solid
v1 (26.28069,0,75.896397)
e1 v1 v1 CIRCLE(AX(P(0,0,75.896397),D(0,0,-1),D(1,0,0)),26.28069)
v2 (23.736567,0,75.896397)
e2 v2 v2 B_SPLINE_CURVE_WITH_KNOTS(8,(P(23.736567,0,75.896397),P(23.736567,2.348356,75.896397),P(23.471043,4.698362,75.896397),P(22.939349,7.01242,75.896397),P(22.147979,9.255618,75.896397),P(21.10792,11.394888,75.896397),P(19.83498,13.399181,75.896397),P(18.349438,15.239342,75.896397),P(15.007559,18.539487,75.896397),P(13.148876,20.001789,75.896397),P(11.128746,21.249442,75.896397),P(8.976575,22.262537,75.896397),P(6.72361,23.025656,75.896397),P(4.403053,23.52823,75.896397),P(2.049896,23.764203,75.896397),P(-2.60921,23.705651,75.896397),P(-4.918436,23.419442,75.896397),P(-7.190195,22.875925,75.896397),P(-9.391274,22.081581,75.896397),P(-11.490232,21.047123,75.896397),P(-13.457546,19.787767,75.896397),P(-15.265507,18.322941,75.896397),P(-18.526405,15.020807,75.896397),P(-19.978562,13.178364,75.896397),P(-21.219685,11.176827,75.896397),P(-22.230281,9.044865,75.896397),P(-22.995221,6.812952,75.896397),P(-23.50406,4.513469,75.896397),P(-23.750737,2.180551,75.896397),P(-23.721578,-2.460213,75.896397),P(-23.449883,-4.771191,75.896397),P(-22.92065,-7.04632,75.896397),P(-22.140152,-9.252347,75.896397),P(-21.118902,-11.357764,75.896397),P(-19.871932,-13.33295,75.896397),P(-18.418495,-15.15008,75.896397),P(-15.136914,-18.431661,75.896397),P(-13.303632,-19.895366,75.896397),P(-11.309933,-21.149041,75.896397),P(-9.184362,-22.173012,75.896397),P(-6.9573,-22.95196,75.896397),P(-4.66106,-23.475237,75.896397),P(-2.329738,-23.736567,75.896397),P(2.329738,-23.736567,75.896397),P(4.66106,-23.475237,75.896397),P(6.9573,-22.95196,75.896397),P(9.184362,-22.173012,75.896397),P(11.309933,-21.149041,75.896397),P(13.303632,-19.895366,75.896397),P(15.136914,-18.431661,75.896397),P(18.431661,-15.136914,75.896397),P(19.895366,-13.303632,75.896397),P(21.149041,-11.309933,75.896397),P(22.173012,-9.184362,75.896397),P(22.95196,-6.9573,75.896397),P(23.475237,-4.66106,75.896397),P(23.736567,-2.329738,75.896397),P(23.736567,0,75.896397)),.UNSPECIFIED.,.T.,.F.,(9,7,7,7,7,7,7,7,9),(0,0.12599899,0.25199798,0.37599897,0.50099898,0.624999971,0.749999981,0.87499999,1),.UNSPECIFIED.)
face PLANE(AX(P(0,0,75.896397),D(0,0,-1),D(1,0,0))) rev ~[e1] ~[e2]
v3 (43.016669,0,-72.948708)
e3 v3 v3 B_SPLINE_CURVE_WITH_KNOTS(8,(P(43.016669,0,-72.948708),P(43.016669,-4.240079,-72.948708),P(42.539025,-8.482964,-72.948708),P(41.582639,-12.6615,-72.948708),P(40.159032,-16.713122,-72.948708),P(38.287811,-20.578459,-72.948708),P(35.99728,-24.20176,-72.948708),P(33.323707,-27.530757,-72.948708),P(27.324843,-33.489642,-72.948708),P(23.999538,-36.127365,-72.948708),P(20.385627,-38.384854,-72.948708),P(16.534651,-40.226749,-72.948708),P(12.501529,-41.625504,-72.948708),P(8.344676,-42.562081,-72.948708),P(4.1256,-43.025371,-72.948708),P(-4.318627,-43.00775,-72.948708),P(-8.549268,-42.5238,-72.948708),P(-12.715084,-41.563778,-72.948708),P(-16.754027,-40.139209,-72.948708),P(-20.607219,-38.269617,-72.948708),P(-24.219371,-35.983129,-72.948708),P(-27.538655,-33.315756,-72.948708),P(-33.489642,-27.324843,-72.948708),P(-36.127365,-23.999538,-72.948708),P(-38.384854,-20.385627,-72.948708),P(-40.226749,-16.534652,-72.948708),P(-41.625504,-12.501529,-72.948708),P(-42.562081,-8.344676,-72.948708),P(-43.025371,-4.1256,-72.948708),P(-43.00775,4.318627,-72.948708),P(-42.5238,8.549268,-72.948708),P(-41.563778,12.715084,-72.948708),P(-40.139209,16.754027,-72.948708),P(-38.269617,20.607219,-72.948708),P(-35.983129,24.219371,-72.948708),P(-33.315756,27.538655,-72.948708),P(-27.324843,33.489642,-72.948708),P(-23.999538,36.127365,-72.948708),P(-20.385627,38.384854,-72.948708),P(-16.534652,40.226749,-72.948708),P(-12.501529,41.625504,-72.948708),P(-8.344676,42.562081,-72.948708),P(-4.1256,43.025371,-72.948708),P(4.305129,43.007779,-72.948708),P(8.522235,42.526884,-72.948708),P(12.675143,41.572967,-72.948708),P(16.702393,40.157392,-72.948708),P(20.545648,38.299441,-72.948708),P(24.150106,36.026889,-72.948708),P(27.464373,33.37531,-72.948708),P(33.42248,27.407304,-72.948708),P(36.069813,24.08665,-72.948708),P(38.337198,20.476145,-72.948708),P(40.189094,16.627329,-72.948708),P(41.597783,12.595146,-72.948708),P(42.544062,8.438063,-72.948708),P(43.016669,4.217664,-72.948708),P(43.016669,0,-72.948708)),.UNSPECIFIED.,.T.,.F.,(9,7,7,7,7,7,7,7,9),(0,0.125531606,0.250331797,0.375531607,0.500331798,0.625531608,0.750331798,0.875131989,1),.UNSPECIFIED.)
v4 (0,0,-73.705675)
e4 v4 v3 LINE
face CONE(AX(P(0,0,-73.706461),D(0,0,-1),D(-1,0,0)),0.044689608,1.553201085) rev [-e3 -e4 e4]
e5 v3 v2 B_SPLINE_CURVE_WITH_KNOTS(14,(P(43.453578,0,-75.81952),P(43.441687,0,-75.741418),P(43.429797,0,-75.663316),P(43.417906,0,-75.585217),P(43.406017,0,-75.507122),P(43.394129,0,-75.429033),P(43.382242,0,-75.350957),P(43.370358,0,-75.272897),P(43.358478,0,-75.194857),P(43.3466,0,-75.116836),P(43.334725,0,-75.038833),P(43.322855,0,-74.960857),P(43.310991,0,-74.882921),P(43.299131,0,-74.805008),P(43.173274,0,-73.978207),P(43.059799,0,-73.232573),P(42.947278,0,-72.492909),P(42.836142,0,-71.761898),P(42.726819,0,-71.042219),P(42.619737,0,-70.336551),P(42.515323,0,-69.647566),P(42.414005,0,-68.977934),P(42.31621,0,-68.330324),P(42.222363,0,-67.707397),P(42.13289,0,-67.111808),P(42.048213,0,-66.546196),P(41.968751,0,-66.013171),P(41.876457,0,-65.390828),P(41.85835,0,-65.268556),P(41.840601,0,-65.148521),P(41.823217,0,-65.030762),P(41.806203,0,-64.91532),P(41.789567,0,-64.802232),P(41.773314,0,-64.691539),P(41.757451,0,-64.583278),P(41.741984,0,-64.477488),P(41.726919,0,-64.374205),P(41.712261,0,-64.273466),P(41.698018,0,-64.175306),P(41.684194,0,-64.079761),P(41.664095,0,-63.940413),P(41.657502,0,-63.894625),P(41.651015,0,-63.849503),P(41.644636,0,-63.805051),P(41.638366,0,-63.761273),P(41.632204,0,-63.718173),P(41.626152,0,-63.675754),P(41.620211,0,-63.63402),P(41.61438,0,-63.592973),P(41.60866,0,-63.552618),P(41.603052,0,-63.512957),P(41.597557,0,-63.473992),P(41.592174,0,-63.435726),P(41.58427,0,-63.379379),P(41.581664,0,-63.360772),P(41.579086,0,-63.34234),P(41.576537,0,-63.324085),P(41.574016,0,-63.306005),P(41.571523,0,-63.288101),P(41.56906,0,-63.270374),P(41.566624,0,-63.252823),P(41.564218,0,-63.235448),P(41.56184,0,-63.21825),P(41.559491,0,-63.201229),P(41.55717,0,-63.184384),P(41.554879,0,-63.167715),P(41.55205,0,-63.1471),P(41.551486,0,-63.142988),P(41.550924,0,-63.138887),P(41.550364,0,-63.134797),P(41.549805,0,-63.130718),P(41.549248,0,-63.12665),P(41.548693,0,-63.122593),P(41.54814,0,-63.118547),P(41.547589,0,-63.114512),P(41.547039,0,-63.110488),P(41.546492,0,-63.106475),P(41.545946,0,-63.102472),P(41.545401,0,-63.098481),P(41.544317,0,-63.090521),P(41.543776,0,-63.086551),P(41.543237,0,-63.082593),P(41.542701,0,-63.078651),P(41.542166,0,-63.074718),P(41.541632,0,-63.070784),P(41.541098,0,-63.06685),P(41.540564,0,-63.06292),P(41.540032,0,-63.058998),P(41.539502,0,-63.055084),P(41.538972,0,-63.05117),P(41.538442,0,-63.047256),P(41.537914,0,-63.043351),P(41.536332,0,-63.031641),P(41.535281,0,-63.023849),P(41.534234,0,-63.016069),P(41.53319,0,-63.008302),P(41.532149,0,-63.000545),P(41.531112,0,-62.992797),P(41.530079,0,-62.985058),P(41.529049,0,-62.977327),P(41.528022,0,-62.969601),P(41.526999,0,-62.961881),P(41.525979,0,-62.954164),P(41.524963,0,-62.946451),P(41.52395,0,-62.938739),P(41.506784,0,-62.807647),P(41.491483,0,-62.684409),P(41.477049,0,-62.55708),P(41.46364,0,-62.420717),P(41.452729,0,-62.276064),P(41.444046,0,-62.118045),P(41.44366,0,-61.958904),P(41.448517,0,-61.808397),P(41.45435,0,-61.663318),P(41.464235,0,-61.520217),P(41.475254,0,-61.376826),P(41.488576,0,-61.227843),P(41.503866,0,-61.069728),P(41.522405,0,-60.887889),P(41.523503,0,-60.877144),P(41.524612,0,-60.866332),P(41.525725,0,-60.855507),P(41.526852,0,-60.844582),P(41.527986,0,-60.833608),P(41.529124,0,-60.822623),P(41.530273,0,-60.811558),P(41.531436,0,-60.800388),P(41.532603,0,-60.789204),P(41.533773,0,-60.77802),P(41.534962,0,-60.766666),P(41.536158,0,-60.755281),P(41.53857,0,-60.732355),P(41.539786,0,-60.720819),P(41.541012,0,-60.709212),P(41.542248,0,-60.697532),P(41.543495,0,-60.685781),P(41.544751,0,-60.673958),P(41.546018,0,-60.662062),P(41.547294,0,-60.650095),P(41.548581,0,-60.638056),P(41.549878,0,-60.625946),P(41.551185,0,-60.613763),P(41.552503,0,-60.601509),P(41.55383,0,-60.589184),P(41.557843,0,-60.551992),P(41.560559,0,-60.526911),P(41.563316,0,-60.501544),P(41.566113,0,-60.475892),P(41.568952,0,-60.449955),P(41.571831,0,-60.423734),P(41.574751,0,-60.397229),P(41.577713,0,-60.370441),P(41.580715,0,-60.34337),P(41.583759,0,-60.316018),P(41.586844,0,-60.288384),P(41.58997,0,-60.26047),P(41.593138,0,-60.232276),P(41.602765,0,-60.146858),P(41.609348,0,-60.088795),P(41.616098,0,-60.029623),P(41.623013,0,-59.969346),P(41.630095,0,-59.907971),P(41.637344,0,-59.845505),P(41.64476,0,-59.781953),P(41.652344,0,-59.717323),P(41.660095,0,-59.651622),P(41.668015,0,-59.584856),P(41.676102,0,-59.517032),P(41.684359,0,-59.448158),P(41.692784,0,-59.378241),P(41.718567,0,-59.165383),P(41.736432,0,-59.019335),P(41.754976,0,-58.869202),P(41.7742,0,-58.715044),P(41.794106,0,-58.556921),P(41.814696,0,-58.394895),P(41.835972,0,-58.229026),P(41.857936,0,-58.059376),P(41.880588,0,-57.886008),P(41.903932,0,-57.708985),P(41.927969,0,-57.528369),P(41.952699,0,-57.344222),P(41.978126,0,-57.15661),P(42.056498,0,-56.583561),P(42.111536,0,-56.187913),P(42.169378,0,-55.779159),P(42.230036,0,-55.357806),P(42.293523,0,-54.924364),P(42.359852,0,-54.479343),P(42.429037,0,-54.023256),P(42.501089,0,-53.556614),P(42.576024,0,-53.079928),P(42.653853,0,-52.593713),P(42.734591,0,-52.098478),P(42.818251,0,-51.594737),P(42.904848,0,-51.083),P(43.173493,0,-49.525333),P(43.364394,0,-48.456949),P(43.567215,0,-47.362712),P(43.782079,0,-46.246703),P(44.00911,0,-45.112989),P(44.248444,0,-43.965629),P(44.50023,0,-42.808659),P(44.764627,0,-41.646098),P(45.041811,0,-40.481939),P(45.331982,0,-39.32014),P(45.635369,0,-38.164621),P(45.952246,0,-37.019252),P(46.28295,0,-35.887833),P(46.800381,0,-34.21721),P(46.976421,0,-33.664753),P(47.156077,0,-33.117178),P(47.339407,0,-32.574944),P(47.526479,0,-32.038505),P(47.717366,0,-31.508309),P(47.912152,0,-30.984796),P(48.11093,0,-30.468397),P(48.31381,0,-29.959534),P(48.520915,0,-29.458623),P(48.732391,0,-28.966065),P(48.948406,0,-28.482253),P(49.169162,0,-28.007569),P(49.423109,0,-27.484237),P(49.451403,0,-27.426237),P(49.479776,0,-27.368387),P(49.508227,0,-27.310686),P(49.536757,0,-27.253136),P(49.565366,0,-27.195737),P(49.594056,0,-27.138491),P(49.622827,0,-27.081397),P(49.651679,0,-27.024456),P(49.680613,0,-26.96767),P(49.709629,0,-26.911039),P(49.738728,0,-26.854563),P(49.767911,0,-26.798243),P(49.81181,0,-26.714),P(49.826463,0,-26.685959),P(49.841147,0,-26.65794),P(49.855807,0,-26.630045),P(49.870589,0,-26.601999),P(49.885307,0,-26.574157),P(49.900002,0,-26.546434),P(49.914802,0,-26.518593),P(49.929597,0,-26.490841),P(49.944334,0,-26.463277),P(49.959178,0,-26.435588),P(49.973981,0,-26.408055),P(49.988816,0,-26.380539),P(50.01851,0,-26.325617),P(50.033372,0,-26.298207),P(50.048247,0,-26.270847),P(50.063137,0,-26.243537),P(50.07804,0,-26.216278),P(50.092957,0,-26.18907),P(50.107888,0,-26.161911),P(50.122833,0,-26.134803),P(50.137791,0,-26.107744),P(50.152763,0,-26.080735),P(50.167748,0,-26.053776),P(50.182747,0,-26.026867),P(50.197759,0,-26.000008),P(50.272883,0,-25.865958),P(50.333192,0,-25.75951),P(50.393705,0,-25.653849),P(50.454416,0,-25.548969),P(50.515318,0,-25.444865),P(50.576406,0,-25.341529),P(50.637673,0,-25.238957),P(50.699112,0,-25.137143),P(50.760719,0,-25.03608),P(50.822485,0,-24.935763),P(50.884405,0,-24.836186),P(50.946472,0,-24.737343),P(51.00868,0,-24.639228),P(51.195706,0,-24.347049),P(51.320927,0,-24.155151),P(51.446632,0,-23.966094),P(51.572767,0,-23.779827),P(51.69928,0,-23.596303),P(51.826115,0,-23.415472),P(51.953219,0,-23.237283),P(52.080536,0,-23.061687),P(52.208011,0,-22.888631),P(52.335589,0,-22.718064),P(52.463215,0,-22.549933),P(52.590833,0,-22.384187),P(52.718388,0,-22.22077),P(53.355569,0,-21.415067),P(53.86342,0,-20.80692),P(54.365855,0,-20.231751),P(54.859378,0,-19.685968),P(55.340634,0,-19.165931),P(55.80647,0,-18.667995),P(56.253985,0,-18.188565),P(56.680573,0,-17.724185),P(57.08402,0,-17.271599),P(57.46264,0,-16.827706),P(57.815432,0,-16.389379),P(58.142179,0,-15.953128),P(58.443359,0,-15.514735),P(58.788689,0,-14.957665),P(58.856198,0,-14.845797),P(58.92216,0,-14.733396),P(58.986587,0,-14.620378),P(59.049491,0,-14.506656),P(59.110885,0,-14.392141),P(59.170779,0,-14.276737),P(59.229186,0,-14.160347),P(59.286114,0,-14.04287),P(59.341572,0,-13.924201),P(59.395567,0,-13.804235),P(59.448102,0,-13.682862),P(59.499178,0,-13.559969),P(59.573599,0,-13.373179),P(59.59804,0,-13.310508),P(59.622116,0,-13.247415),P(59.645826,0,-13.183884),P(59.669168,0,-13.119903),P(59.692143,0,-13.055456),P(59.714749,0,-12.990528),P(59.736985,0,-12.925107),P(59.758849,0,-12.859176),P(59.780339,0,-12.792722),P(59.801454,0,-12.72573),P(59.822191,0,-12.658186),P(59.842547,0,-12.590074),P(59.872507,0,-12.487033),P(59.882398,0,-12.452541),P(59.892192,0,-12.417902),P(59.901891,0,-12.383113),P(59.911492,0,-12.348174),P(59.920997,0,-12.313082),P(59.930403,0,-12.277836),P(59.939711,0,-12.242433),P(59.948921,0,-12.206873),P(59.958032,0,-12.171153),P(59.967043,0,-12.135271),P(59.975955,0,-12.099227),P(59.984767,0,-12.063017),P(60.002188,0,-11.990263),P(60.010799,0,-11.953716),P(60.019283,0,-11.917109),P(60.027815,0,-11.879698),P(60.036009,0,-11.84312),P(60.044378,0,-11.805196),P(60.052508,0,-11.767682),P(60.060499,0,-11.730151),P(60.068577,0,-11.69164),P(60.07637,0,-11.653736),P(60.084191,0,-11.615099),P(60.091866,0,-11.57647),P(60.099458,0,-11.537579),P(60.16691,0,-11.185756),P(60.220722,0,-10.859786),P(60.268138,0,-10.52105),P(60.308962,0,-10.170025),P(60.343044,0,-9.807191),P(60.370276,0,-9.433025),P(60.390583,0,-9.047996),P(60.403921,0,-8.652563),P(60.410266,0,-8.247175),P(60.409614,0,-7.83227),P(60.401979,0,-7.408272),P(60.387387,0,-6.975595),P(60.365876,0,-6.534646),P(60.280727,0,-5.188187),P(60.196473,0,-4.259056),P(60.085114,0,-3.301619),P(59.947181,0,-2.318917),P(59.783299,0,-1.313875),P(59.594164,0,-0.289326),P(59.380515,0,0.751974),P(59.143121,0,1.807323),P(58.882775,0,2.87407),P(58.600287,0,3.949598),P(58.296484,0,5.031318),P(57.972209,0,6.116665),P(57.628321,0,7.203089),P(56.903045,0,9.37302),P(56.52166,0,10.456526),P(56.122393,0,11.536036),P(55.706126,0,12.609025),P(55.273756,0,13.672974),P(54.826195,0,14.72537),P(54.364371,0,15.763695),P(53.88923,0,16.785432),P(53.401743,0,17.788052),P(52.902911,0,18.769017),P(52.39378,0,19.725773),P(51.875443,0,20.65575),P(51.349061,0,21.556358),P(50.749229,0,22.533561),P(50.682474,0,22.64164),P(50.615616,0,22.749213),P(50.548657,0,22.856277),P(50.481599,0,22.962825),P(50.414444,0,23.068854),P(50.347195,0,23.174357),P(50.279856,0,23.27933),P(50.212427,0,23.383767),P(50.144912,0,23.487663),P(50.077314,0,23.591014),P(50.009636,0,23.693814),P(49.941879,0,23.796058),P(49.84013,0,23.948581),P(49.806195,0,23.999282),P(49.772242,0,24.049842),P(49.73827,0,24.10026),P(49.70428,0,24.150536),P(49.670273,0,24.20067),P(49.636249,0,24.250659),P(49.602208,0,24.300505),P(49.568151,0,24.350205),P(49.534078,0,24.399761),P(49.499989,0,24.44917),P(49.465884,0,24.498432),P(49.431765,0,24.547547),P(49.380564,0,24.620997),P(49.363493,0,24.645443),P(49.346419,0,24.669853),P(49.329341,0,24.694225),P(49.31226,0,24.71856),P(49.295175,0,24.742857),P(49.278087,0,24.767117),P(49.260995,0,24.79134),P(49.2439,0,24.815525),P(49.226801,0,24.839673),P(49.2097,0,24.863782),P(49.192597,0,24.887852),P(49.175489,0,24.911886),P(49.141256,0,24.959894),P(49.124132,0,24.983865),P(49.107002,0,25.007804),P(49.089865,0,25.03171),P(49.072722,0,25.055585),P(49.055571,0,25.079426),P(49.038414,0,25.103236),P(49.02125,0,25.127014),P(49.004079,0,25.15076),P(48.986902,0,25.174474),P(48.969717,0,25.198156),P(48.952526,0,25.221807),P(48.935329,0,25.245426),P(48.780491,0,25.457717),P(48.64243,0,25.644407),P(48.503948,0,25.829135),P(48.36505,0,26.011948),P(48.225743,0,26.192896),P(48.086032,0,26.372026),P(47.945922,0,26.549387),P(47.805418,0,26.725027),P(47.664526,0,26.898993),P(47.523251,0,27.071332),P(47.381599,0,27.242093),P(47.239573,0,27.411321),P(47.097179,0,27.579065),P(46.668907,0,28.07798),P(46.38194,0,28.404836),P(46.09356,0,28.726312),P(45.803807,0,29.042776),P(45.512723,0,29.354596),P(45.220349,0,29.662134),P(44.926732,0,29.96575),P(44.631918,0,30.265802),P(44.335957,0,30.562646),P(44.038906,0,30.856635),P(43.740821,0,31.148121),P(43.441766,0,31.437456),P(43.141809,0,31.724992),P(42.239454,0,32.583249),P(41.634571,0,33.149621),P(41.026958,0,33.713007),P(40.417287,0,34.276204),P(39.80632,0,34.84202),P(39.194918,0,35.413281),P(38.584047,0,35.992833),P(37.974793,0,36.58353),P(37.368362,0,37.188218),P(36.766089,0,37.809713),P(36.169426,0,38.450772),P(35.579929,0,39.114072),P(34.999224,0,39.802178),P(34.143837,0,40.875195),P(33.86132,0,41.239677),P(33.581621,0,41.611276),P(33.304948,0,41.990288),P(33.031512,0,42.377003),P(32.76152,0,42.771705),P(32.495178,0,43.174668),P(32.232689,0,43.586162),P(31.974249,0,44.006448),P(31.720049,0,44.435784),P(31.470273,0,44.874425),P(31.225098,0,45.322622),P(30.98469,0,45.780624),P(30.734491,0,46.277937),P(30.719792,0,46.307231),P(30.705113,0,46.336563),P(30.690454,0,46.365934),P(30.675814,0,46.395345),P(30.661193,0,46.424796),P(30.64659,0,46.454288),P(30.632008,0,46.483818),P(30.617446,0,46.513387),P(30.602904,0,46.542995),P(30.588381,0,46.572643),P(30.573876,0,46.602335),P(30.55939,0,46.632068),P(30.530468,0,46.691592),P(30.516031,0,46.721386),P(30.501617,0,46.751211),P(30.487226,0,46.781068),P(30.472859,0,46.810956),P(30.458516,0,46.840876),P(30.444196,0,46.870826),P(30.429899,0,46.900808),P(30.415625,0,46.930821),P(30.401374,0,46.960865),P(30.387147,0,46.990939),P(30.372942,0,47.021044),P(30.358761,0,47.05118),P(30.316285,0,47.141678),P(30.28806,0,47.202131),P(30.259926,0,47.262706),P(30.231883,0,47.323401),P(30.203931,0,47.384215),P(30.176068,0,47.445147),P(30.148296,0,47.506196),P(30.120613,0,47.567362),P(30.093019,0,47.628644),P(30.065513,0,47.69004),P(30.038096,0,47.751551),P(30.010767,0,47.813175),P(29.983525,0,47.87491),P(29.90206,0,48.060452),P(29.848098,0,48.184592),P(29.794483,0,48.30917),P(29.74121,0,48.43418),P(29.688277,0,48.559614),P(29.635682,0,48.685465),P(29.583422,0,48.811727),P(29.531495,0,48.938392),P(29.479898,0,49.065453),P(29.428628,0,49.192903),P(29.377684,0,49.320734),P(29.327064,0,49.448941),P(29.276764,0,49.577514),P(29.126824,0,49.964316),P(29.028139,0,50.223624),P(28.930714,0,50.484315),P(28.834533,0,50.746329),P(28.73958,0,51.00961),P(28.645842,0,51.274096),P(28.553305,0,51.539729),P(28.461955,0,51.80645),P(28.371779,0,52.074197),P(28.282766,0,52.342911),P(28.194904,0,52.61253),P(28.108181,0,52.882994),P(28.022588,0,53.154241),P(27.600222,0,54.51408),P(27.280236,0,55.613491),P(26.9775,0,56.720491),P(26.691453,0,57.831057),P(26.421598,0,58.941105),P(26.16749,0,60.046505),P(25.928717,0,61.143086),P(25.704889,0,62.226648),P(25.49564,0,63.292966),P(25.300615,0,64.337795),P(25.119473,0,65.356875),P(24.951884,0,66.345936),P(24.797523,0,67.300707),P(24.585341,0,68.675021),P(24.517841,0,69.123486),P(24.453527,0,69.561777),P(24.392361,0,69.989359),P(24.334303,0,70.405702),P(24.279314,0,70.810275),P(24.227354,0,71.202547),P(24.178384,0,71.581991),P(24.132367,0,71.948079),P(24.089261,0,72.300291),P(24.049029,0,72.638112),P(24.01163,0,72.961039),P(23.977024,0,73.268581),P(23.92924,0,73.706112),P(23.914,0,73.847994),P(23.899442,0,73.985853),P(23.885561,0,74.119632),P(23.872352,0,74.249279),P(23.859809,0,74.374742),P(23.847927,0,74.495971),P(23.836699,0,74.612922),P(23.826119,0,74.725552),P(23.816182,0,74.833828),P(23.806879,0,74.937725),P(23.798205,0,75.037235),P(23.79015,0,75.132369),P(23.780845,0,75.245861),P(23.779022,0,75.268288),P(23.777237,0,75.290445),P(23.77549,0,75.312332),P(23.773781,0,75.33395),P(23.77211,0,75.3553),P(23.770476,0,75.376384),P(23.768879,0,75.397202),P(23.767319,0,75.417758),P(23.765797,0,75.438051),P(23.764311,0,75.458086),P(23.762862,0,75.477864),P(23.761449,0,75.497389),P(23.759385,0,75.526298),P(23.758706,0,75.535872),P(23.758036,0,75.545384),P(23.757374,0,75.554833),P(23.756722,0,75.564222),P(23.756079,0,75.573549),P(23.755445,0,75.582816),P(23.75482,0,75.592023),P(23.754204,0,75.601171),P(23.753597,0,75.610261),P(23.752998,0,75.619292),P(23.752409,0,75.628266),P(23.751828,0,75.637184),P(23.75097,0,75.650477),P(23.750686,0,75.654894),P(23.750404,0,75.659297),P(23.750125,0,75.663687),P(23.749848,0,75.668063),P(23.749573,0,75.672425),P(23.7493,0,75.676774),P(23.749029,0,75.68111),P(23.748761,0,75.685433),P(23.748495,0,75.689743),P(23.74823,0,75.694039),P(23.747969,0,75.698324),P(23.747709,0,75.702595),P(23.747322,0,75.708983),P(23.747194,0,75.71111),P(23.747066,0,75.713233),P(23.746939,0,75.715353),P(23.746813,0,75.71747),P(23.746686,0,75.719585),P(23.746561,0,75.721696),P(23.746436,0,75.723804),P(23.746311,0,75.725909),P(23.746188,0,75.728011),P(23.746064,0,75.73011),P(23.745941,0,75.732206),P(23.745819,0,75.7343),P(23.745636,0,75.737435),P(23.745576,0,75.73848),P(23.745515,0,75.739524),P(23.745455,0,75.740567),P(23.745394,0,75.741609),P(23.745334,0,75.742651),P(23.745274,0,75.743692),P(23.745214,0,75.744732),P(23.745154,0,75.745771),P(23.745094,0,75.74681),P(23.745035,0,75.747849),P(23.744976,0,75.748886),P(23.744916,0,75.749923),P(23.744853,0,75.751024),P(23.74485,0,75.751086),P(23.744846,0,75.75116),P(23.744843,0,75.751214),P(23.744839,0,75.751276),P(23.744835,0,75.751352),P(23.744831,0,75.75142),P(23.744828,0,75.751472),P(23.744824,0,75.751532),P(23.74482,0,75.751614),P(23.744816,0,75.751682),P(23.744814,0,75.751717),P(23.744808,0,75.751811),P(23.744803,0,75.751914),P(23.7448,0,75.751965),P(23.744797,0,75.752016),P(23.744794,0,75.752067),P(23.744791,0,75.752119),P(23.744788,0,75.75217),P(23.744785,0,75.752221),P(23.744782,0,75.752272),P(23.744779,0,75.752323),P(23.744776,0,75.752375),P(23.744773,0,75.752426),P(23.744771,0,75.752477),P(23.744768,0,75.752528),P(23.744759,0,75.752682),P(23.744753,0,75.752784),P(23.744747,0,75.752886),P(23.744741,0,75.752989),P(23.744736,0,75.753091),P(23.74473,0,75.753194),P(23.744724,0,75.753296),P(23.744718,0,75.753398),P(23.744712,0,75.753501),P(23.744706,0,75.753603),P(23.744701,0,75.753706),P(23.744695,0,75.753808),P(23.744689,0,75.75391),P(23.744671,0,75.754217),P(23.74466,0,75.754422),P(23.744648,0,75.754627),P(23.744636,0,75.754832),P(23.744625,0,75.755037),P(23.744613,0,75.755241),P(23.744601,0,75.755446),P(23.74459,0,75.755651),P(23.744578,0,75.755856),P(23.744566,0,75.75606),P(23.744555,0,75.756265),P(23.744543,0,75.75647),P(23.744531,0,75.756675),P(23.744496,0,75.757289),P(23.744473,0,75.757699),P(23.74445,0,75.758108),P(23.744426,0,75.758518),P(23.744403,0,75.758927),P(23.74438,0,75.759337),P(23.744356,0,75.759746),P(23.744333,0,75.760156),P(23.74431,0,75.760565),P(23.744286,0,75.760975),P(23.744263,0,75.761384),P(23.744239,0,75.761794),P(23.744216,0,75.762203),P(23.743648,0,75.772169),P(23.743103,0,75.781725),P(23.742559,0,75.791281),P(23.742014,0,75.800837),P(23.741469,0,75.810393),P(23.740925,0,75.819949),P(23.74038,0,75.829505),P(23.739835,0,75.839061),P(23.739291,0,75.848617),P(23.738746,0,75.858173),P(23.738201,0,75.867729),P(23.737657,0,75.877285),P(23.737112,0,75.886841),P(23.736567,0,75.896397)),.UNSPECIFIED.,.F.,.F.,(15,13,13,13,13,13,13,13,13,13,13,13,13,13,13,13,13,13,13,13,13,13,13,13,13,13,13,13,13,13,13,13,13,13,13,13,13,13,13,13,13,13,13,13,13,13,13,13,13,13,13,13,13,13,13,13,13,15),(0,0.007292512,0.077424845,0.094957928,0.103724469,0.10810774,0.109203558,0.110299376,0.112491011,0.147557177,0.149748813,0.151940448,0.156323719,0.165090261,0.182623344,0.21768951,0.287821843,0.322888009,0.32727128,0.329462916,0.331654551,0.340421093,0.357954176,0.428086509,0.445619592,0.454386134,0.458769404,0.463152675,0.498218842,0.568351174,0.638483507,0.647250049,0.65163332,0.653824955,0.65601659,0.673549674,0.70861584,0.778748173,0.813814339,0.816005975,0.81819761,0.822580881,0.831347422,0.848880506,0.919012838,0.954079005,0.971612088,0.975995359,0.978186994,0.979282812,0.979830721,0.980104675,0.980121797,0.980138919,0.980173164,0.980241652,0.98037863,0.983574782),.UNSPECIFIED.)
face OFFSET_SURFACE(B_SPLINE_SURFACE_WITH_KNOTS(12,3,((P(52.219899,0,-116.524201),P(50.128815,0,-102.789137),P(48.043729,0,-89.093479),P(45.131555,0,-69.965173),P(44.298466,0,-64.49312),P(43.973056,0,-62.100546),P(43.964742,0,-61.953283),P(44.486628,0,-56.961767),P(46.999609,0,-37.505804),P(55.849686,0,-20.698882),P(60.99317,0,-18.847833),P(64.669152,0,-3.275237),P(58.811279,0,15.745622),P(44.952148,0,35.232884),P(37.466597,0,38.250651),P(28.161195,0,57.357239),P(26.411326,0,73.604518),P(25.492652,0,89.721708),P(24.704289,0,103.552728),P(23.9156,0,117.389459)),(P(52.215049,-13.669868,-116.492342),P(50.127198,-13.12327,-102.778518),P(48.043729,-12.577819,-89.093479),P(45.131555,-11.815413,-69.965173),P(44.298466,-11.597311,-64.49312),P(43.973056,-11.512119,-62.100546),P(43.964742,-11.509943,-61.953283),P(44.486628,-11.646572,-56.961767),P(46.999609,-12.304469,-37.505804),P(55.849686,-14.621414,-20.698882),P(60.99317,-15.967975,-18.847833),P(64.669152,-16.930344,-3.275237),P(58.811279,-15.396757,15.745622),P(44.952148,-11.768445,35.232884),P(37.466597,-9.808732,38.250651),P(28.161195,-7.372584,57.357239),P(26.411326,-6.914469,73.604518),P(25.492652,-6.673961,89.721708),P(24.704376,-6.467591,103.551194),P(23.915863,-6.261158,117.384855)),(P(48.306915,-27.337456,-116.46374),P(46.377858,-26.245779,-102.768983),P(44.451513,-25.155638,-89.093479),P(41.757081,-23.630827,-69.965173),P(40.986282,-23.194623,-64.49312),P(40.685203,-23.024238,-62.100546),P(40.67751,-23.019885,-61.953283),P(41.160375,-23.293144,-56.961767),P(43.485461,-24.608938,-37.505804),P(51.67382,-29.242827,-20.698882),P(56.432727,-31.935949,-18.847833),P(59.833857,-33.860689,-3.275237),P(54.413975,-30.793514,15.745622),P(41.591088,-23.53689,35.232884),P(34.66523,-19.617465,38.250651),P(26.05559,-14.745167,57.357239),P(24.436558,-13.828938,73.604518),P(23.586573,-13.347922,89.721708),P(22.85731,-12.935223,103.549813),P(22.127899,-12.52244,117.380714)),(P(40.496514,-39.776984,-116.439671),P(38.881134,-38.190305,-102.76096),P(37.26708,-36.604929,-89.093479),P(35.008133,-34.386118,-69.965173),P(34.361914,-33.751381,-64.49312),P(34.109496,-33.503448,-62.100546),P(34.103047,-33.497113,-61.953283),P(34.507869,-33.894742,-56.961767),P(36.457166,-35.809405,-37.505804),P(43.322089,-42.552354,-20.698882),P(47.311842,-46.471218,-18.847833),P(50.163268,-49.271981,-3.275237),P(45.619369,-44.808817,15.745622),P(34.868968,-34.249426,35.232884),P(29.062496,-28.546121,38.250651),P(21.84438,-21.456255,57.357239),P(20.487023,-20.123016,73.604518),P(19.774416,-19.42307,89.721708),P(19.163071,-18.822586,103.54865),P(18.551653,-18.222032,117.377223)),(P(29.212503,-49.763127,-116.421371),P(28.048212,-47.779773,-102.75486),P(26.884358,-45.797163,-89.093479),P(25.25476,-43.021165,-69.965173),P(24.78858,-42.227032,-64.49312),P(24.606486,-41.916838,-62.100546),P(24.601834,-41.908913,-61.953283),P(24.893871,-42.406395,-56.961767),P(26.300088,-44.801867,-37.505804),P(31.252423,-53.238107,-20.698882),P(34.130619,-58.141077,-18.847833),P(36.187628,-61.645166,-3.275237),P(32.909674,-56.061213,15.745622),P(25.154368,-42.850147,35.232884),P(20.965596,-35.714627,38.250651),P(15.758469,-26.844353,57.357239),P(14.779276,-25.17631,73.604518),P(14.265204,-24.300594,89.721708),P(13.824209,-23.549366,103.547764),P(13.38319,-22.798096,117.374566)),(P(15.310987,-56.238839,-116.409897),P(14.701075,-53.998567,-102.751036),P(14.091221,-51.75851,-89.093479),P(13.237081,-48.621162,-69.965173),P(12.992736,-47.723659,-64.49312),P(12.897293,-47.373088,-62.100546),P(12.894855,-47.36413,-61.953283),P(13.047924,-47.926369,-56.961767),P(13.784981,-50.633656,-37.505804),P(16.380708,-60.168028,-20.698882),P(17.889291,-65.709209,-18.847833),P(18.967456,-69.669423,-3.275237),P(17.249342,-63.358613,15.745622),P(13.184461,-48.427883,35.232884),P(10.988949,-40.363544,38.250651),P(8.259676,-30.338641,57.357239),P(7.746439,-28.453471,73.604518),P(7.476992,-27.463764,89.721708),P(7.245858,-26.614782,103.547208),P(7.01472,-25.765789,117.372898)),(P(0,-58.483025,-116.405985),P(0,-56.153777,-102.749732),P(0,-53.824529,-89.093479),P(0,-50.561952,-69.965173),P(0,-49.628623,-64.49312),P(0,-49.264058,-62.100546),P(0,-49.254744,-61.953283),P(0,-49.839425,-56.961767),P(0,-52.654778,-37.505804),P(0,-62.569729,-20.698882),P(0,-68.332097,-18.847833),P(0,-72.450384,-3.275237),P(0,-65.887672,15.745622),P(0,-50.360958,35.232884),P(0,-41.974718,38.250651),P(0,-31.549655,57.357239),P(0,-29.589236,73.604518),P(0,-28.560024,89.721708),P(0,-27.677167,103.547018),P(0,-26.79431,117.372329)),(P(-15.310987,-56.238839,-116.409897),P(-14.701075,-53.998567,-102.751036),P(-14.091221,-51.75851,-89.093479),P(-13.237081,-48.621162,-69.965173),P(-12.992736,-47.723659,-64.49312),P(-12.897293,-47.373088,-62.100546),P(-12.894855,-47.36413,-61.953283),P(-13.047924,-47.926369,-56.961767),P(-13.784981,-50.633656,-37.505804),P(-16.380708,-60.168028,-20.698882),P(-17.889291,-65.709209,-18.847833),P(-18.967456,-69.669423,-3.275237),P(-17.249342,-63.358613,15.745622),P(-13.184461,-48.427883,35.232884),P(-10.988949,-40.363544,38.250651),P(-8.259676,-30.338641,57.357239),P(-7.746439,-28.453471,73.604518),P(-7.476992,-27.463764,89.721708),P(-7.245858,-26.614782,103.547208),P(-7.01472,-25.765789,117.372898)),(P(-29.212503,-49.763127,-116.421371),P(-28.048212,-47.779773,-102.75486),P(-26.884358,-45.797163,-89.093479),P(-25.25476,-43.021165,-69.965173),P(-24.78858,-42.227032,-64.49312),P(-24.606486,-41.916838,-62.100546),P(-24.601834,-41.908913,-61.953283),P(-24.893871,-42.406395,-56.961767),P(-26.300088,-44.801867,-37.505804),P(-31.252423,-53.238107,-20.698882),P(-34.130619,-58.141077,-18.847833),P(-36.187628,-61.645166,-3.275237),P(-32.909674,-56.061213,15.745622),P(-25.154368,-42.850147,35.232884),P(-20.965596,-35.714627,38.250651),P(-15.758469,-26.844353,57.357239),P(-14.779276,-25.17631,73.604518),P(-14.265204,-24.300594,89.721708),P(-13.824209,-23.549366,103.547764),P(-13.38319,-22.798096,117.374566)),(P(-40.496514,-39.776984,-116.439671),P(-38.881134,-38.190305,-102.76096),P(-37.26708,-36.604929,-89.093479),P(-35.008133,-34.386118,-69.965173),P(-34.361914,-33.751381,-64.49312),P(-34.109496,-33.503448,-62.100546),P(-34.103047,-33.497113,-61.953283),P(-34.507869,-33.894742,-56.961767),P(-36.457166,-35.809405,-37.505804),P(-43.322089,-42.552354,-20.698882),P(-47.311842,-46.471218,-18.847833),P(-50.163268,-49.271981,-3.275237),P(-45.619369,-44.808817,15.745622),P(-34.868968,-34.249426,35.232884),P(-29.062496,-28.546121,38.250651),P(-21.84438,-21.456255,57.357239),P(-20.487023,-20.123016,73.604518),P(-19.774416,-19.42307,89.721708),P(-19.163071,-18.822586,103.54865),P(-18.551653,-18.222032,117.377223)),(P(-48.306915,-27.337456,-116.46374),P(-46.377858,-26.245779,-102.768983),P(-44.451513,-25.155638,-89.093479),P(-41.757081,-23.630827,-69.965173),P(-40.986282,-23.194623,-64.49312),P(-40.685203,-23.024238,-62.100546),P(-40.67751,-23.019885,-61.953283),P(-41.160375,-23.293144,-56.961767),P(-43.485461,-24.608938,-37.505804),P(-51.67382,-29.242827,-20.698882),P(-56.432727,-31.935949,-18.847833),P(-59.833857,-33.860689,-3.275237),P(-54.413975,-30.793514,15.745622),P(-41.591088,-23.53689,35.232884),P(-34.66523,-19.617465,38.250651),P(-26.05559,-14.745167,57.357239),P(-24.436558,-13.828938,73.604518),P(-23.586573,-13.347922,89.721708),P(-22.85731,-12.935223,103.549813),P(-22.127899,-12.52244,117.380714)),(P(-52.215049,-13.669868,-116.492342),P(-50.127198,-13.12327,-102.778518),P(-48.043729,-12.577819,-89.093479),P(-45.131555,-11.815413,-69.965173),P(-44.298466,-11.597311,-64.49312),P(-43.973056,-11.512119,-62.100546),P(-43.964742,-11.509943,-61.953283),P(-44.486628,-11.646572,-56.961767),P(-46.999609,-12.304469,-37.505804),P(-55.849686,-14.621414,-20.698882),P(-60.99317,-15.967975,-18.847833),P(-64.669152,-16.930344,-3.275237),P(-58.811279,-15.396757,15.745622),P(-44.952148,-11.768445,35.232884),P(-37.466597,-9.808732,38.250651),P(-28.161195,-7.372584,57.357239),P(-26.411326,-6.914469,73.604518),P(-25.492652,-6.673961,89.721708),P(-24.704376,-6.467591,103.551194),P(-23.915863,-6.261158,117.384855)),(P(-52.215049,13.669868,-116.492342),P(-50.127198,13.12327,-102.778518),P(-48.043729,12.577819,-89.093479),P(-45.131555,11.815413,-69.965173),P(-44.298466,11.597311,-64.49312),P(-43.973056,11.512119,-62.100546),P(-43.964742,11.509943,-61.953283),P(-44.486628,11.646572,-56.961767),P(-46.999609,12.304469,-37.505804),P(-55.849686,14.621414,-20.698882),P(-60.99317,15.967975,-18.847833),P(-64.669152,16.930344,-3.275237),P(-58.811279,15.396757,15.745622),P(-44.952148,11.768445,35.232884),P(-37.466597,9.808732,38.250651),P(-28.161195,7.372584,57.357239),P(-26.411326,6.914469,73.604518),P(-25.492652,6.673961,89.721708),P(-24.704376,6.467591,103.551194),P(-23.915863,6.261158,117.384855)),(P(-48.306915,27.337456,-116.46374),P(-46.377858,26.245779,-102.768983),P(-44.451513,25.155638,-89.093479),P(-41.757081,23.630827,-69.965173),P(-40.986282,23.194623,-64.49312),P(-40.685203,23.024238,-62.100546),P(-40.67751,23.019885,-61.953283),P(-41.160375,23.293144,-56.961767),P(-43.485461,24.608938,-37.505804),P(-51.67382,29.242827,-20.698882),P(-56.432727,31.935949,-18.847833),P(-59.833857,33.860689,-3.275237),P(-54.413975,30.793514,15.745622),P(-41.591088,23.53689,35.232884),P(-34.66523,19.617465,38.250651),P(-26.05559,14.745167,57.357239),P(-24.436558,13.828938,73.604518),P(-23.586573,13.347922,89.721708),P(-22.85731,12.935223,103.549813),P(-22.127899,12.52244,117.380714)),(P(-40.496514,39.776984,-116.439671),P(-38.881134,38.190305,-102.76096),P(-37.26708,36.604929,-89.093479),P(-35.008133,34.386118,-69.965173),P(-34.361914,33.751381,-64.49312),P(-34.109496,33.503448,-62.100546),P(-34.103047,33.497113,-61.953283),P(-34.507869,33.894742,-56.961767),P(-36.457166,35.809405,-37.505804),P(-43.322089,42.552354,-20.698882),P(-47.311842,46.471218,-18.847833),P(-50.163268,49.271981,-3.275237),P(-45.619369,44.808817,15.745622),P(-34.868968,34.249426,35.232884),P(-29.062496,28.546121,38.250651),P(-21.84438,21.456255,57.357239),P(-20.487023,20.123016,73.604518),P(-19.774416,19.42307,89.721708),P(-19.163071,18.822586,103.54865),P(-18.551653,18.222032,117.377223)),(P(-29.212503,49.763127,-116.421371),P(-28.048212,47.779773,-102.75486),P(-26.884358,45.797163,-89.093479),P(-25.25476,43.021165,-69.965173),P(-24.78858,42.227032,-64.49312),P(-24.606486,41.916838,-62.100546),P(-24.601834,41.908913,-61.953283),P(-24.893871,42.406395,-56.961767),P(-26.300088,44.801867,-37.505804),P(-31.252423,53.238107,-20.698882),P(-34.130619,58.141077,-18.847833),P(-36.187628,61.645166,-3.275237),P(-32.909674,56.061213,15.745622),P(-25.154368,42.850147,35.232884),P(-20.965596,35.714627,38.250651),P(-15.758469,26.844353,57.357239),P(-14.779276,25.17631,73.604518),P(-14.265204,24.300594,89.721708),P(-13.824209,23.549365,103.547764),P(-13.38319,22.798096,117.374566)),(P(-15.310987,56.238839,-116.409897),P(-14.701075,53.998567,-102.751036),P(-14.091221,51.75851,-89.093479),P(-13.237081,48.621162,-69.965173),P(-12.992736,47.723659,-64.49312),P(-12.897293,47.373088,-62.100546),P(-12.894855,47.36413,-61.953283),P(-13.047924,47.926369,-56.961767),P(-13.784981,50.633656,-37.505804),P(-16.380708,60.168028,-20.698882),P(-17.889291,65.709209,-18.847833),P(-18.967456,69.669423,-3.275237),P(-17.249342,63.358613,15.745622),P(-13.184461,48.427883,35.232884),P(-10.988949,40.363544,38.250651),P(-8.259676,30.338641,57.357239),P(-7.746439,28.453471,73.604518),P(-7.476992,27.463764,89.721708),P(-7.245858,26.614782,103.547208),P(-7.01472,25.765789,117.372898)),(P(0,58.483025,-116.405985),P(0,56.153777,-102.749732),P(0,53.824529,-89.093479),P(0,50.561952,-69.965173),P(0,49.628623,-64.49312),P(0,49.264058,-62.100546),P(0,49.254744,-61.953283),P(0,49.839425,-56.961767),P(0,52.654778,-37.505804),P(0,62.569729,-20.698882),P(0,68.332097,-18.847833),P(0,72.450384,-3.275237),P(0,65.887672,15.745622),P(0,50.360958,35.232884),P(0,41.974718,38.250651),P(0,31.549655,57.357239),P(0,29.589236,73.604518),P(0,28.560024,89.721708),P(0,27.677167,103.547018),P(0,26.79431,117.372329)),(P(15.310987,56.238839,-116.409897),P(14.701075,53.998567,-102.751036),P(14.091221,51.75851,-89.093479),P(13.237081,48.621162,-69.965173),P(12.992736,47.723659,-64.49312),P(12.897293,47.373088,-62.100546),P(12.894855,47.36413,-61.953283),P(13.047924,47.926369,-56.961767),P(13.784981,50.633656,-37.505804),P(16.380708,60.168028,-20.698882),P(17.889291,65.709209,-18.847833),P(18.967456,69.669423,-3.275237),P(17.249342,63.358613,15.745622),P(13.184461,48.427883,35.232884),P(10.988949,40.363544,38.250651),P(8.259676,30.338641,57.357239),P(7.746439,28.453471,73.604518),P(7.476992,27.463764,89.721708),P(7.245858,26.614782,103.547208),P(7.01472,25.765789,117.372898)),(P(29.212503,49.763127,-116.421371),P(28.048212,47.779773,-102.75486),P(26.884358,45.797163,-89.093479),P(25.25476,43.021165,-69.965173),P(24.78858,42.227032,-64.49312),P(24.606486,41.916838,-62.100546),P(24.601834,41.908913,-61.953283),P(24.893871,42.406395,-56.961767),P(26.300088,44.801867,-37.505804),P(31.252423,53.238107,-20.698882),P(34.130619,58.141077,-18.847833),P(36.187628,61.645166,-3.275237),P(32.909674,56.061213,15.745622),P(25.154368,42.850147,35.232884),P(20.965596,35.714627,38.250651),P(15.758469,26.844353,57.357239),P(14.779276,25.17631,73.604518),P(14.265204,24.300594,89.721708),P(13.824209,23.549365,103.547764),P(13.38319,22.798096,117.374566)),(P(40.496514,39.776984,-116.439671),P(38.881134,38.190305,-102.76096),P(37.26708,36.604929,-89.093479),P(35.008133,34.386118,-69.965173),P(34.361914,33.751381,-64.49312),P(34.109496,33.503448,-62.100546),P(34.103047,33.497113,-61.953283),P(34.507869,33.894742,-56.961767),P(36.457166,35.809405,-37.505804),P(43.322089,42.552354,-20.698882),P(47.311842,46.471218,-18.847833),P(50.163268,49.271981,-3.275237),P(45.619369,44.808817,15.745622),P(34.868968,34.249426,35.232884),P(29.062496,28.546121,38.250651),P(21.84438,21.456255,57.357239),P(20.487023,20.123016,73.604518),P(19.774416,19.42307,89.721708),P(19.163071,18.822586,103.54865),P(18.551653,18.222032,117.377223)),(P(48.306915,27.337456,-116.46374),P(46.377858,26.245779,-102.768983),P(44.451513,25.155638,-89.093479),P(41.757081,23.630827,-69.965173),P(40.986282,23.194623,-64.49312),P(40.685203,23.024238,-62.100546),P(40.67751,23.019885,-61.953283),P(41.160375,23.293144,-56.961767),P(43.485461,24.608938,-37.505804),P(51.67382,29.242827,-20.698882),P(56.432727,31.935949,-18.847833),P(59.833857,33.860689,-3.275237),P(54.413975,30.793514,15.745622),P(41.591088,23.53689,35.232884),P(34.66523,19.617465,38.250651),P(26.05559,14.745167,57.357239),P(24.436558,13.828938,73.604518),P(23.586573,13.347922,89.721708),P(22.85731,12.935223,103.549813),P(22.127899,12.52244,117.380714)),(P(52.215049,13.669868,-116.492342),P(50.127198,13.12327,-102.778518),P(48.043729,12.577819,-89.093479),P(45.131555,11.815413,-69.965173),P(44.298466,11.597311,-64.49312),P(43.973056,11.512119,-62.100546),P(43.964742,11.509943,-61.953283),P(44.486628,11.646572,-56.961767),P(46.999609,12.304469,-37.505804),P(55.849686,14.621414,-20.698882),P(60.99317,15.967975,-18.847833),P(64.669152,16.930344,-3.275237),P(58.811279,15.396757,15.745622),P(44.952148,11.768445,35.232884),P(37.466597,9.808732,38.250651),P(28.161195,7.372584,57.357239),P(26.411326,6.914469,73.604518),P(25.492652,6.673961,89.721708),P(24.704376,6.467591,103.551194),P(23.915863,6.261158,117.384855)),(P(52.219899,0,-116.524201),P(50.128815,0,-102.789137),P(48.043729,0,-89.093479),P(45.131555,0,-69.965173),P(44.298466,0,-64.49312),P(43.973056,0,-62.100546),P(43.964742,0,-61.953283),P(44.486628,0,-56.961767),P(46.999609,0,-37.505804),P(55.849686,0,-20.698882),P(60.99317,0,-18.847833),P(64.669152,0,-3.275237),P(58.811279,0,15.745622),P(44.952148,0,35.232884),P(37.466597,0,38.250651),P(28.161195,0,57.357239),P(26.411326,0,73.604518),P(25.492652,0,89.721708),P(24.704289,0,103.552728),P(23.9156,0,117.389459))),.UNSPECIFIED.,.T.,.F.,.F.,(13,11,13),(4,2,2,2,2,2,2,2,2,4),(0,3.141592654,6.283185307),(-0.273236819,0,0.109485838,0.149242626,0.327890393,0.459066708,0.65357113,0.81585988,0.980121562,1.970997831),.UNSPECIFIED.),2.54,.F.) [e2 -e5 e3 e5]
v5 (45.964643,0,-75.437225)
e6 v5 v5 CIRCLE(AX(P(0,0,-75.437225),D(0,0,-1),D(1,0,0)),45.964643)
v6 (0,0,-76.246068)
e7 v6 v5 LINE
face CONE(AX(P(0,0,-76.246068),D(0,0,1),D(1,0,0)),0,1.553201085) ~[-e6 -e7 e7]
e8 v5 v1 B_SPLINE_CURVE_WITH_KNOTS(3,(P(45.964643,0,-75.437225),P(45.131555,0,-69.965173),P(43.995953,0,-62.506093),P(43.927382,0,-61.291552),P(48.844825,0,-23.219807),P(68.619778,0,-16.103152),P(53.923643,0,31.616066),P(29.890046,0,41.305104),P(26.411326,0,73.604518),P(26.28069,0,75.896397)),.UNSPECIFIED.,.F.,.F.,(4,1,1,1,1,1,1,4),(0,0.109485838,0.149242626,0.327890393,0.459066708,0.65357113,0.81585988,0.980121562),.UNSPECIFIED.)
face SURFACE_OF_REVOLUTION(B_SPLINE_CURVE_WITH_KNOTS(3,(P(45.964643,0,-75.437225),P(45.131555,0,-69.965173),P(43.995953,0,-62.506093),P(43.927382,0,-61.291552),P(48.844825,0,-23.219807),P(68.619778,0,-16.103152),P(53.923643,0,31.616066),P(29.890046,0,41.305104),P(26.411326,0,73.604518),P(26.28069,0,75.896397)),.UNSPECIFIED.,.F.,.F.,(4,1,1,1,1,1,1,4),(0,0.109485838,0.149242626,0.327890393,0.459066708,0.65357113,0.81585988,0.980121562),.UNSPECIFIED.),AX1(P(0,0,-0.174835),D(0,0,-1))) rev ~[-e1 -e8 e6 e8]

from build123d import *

# Parameters (mm, degrees)
F2_T = -2.54


with BuildPart() as f1:
    # F0 (on Front) → F1 (revolve)
    with BuildSketch(Plane.XZ):
        with BuildLine():
            Line((0, -76.2460678816), (45.9646433592, -75.4372254014))
            add(Edge.make_bspline(
                [(45.9646433592, -75.4372254014), (45.1315547474, -69.9651725205), (43.9959527903, -62.50609329), (43.9273815873, -61.2915524271), (48.8448251315, -23.219806909), (68.61977784, -16.1031524217), (53.9236425123, 31.6160656855), (29.8900458082, 41.3051039956), (26.411326281, 73.6045179735), (26.2806899846, 75.896397233)],
                knots=[0, 0, 0, 0, 0.109485838, 0.1492426257, 0.3278903929, 0.459066708, 0.65357113, 0.8158598802, 0.9801215624, 0.9801215624, 0.9801215624, 0.9801215624], degree=3))
            Line((26.2806899846, 75.896397233), (0, 75.896397233))
            Line((0, 75.896397233), (0, -76.2460678816))
        make_face()
    revolve(axis=Axis((0, 0, -0.1748353243), (0, 0, -1)))

    # F2
    f2_openings = [f1.faces().sort_by_distance(p)[0] for p in [
        (0, 0, 75.896397),
    ]]
    offset(amount=F2_T, openings=f2_openings)


solid = f1.part
